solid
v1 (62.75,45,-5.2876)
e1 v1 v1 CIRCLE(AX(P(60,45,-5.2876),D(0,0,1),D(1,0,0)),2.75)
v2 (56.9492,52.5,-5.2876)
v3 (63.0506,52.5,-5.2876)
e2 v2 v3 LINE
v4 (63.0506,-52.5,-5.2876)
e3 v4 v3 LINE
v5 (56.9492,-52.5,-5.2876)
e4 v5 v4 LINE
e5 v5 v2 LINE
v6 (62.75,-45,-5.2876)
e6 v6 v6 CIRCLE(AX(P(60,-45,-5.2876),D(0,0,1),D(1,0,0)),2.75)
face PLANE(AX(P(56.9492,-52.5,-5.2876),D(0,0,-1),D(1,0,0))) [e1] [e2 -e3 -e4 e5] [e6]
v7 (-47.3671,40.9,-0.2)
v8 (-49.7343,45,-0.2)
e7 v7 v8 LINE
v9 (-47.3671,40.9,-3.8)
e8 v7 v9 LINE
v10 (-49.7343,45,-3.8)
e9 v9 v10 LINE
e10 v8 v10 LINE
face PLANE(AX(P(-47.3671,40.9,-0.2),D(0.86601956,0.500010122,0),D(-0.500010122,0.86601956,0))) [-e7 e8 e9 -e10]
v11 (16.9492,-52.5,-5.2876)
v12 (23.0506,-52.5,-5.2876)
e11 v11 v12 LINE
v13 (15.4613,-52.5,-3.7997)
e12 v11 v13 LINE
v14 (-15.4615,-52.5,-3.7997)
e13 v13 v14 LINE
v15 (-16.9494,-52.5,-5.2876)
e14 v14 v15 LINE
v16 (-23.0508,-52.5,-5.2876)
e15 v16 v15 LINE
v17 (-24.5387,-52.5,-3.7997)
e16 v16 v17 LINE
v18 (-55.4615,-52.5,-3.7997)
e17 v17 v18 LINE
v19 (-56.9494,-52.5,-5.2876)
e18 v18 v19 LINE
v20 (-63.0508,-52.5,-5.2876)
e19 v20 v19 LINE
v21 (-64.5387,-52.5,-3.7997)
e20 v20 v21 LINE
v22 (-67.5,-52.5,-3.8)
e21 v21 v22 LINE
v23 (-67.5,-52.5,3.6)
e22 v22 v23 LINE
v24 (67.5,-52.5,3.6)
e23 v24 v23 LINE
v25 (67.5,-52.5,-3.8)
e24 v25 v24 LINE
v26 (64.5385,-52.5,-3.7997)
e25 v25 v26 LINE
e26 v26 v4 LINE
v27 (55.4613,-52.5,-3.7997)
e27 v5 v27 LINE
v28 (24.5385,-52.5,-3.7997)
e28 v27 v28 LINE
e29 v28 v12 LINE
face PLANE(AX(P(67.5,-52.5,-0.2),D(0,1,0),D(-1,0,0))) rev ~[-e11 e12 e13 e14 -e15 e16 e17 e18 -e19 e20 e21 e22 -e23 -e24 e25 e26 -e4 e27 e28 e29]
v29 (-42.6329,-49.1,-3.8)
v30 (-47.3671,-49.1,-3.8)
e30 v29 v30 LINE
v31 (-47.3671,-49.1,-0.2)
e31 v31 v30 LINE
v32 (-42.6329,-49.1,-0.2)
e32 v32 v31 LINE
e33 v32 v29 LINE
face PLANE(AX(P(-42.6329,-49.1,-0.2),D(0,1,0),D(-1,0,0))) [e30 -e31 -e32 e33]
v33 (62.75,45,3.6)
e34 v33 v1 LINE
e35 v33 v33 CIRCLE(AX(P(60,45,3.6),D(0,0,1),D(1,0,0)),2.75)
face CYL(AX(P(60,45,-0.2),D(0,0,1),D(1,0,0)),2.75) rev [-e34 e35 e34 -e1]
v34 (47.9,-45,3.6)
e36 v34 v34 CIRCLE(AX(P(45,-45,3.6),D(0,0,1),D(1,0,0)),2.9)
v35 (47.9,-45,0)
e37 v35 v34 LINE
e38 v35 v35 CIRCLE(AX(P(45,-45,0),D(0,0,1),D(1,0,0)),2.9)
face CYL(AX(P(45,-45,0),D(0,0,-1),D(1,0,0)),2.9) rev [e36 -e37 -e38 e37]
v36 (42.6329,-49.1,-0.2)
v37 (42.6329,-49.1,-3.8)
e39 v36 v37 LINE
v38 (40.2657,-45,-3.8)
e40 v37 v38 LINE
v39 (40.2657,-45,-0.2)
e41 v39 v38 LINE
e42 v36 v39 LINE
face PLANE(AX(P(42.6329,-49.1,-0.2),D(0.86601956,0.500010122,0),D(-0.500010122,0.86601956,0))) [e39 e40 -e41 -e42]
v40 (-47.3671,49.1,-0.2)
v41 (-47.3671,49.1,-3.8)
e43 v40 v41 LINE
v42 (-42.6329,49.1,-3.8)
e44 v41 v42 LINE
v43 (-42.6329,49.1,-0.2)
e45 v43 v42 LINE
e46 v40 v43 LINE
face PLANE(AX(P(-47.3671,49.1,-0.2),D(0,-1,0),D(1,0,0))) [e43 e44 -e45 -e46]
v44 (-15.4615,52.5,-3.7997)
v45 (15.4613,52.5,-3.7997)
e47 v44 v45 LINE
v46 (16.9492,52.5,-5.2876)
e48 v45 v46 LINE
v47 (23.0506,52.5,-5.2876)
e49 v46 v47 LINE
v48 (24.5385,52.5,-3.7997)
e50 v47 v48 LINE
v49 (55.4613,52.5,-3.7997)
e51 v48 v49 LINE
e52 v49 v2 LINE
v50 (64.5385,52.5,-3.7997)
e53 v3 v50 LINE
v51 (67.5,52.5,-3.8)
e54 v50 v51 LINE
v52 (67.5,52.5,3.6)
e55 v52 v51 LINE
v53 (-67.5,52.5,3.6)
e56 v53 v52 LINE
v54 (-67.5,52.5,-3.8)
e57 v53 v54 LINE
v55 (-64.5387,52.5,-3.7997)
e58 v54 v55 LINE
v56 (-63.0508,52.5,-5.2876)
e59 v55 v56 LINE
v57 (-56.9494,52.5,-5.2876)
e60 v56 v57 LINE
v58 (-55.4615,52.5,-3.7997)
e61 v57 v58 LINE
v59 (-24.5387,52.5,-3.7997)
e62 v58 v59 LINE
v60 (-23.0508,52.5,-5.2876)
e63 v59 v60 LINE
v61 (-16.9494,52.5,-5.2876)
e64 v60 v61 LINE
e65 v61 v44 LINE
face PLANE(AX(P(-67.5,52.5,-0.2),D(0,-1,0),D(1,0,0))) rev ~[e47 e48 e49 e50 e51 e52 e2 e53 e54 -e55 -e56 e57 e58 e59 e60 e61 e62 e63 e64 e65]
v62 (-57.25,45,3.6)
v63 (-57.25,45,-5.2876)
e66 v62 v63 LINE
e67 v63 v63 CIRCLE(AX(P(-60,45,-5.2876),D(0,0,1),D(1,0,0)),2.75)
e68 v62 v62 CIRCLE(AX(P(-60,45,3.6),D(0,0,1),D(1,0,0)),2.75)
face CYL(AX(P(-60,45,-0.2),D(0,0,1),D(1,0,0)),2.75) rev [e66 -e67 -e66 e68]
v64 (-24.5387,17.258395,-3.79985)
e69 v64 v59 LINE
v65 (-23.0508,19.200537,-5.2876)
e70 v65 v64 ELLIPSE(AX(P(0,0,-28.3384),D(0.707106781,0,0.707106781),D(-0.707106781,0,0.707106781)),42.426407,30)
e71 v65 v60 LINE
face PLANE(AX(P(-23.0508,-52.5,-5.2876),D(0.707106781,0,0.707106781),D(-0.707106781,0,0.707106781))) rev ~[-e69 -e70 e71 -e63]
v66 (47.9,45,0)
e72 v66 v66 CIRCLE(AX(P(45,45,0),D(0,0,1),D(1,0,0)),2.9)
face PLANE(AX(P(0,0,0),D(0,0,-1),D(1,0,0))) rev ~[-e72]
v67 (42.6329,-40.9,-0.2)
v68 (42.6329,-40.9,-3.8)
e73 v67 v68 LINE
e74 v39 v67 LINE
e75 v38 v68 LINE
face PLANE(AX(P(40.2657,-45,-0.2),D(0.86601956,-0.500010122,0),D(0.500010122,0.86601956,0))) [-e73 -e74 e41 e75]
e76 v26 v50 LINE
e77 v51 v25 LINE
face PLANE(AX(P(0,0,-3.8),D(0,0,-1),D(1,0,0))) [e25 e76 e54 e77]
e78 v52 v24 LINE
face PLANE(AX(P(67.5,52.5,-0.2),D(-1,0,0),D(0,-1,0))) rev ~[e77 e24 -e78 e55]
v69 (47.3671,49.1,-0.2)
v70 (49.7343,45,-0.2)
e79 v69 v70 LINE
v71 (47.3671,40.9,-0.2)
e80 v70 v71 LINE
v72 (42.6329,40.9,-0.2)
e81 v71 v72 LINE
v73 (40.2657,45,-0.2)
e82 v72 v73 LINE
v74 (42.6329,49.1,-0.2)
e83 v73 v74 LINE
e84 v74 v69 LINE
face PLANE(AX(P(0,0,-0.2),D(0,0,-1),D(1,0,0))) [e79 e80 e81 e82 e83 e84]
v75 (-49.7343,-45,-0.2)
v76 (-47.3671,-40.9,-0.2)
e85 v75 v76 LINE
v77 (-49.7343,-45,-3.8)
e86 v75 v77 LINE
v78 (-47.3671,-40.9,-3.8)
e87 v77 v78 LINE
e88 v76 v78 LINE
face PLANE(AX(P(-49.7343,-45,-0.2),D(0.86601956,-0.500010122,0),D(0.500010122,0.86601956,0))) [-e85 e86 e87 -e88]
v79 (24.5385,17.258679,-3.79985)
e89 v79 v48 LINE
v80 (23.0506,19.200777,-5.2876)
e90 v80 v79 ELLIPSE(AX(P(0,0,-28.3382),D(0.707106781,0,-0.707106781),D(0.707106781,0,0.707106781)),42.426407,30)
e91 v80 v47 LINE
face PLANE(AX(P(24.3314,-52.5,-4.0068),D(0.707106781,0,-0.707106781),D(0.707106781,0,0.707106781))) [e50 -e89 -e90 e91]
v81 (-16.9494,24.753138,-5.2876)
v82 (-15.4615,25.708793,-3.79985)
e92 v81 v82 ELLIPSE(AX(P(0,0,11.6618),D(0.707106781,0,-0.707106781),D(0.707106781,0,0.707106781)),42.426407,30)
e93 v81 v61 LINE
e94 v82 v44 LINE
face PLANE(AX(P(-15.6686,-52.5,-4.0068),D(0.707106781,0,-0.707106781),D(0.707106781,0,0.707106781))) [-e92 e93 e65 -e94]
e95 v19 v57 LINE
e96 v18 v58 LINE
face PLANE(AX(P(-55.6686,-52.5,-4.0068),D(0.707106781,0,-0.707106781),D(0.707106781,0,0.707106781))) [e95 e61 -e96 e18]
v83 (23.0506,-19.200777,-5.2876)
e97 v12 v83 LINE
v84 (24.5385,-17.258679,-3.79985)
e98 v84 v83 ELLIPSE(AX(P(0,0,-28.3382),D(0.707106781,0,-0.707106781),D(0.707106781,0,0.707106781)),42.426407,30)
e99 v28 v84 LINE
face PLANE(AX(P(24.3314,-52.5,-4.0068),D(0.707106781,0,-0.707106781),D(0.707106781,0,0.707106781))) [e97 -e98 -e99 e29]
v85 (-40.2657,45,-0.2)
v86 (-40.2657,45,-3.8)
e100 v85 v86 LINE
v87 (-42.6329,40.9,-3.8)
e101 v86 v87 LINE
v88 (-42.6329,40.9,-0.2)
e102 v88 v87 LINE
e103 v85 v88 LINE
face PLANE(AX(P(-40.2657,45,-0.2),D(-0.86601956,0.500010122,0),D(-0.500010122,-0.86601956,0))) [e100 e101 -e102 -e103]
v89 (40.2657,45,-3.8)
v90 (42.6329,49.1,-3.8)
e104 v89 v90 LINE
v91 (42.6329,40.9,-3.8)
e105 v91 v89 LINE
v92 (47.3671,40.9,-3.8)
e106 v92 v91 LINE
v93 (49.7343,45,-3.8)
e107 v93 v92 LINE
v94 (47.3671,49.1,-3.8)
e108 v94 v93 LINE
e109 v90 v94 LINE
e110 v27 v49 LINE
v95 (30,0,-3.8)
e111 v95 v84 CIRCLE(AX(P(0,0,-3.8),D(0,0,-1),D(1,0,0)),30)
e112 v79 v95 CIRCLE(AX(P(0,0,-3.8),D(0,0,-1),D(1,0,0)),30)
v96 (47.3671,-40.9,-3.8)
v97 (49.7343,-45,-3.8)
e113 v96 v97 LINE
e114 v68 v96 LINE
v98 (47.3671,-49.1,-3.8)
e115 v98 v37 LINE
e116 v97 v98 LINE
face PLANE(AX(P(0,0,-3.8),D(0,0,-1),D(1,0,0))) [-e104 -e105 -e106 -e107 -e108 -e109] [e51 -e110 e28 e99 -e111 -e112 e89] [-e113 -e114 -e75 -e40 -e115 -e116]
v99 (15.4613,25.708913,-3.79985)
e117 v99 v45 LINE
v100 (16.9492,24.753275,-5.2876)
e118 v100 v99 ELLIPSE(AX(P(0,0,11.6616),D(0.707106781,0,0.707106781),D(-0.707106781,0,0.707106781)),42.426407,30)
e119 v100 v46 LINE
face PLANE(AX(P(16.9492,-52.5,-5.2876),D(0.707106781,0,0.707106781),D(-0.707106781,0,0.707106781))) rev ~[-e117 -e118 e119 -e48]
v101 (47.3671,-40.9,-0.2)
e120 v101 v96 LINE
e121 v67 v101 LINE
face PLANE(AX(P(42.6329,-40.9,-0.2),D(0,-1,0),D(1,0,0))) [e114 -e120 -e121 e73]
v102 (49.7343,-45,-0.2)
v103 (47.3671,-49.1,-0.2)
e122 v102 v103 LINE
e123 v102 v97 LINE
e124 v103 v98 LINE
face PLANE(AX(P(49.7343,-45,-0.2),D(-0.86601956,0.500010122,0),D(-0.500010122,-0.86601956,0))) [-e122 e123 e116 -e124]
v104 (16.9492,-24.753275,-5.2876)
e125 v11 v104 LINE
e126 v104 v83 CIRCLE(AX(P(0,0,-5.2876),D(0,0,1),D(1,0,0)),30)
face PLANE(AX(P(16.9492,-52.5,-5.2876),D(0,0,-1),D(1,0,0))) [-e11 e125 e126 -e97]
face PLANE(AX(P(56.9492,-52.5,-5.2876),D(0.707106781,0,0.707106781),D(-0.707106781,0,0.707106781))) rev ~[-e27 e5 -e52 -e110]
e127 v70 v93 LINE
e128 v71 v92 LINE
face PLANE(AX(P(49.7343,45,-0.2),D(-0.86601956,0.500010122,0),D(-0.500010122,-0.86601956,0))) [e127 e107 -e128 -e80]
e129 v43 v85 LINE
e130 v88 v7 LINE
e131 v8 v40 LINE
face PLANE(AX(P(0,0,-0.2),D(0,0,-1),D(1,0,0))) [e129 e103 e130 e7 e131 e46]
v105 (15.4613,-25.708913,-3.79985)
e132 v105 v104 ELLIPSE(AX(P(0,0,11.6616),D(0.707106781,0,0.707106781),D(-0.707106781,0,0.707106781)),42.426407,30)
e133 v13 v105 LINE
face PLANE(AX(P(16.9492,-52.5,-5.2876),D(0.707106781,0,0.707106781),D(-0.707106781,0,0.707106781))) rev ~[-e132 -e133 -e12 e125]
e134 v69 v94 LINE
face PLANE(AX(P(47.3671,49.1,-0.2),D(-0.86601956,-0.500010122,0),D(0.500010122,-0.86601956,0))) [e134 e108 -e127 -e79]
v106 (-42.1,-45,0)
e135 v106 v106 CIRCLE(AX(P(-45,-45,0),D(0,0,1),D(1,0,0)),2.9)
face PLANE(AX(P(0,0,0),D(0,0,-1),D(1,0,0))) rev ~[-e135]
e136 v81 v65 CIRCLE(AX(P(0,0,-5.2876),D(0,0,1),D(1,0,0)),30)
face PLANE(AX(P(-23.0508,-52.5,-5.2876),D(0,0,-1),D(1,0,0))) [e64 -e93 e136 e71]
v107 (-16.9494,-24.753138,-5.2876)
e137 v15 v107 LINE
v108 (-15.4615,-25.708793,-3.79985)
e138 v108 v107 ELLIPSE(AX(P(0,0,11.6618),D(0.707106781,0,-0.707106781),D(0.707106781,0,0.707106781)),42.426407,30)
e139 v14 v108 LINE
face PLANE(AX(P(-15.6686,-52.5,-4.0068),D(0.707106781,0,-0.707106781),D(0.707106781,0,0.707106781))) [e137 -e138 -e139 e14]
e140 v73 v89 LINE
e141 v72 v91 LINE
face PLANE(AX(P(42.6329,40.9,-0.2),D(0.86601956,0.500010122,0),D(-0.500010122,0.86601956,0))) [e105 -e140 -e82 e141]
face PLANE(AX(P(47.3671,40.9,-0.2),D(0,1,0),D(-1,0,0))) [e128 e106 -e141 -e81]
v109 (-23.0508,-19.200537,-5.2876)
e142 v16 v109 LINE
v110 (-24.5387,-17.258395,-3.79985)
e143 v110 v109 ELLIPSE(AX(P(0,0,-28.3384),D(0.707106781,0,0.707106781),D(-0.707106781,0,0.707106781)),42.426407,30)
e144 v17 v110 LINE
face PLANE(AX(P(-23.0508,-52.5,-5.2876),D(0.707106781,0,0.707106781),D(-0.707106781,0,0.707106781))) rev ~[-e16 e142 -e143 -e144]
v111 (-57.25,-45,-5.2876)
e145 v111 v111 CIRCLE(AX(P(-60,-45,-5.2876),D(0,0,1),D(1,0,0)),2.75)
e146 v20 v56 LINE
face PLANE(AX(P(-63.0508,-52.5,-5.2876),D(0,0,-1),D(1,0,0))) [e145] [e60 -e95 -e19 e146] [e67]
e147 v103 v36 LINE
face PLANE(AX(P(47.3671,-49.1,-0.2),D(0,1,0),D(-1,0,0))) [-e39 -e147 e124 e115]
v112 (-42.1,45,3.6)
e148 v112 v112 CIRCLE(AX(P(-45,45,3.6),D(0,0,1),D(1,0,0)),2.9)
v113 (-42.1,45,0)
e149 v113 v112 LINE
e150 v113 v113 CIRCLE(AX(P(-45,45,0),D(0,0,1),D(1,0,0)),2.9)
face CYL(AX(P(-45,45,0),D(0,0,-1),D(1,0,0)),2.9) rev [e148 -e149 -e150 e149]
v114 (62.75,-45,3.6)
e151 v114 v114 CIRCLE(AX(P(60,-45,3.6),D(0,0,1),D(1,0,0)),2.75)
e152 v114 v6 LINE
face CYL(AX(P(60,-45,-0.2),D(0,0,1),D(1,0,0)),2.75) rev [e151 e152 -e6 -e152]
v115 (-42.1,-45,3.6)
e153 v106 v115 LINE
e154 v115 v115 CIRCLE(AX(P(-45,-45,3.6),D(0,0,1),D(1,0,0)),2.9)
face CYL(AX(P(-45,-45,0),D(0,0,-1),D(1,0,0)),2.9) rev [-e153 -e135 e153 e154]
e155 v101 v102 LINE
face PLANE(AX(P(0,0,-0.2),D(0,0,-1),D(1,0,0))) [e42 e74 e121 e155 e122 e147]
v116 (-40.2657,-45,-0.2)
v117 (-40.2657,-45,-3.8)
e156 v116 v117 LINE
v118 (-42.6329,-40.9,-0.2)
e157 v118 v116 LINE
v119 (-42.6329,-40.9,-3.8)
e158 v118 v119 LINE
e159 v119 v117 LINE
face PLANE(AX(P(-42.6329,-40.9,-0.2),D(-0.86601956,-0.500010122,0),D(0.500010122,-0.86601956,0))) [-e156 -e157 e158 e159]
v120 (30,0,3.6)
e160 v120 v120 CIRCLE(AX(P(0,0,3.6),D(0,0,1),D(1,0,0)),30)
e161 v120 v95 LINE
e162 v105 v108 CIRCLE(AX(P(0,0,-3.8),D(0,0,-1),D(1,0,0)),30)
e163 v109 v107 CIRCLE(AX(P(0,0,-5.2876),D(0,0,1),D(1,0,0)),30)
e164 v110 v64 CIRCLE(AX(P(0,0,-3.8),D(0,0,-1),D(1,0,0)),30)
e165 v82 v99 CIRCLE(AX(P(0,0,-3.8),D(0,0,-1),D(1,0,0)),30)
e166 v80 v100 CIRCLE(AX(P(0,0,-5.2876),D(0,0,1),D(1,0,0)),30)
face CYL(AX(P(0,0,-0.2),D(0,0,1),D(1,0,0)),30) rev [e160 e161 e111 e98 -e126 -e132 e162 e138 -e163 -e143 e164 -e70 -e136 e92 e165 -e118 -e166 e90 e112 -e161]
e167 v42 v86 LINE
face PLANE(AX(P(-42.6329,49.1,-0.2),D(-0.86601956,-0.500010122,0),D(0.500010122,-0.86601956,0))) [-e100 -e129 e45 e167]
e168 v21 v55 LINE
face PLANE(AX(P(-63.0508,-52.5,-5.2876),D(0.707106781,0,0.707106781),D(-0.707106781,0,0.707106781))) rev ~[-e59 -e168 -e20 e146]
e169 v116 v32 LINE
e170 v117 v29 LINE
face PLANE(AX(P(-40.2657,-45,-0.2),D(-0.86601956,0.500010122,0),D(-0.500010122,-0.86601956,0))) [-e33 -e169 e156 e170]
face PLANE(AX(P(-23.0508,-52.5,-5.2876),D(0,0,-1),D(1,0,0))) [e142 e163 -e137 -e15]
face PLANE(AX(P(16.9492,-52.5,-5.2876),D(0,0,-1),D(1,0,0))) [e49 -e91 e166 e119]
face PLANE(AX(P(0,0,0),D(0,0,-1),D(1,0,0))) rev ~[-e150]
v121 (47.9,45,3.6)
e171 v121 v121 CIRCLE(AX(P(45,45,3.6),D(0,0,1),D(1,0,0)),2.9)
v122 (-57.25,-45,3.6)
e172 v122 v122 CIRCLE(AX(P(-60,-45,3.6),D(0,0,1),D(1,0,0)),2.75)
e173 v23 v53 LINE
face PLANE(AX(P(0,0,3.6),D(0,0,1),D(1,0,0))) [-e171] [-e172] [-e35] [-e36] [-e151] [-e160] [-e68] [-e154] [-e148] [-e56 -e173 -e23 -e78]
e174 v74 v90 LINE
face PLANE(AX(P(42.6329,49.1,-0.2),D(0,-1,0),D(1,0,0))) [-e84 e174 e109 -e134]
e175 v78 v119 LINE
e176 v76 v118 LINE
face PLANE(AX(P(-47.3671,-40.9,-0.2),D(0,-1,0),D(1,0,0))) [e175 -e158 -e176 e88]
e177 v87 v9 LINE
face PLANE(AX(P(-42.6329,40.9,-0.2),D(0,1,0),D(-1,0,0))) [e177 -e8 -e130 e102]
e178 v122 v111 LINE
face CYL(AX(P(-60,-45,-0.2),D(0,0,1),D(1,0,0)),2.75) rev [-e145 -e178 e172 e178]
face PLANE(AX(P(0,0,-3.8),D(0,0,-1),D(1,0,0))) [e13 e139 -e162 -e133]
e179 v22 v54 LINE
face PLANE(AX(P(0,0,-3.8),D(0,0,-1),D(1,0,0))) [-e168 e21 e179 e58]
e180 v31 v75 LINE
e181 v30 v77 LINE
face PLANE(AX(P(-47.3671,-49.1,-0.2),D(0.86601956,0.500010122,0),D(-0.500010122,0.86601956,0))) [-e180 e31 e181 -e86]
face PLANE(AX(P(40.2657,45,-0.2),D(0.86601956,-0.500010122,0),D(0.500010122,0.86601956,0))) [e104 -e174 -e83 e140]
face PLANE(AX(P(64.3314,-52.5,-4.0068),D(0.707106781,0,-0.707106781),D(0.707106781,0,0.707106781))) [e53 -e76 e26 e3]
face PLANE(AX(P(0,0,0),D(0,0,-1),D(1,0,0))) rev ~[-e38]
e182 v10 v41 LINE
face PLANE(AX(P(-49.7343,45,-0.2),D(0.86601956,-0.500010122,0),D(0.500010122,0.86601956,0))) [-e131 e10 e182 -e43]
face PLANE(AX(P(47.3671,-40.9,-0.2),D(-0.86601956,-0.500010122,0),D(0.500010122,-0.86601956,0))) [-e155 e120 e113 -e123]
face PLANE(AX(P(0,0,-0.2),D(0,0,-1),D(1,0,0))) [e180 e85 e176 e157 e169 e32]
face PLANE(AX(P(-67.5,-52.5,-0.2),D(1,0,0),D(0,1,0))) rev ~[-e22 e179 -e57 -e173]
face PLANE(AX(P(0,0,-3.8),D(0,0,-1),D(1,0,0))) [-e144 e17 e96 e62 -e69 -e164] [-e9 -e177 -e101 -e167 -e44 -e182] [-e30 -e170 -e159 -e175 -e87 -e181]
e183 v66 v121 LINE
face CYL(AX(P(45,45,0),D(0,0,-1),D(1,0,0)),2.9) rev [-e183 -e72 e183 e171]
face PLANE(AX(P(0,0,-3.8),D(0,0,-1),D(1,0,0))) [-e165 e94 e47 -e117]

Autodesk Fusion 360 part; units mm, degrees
sketch "Sketch1" plane through (0, 0, 0) normal (0, 0, 1) x (1, 0, 0)
  line L0 (-45, 45) -> (45, 45) construction
  line L1 (45, 45) -> (45, -45) construction
  line L2 (45, -45) -> (-45, -45) construction
  line L3 (-45, -45) -> (-45, 45) construction
  line L4 (-45, 45) -> (45, -45) construction
  line L5 (45, 45) -> (-45, -45) construction
  circle A0 centre (-45, 45) radius 2.9
  circle A1 centre (45, 45) radius 2.9
  circle A2 centre (-45, -45) radius 2.9
  circle A3 centre (45, -45) radius 2.9
  line L6 (-60, 45) -> (60, 45) construction
  line L7 (60, 45) -> (60, -45) construction
  line L8 (60, -45) -> (-60, -45) construction
  line L9 (-60, -45) -> (-60, 45) construction
  line L10 (-60, 45) -> (60, -45) construction
  line L11 (60, 45) -> (-60, -45) construction
  circle A4 centre (-60, 45) radius 2.75
  circle A5 centre (60, 45) radius 2.75
  circle A6 centre (60, -45) radius 2.75
  circle A7 centre (-60, -45) radius 2.75
  line L12 (-67.5, 52.5) -> (67.5, 52.5)
  line L13 (67.5, 52.5) -> (67.5, -52.5)
  line L14 (67.5, -52.5) -> (-67.5, -52.5)
  line L15 (-67.5, -52.5) -> (-67.5, 52.5)
  line L16 (-67.5, 52.5) -> (67.5, -52.5) construction
  line L17 (67.5, 52.5) -> (-67.5, -52.5) construction
  circle A8 centre (0, 0) radius 30
  dimension "d1" = 90
  dimension "d2" = 90
  dimension "d3" = 5.8
  dimension "d4" = 5.8
  dimension "d5" = 5.8
  dimension "d6" = 5.8
  dimension "d7" = 120
  dimension "d8" = 90
  dimension "d9" = 5.5
  dimension "d10" = 5.5
  dimension "d11" = 5.5
  dimension "d12" = 5.5
  dimension "d13" = 135
  dimension "d14" = 105
  dimension "d27" = 60
extrude "Extrude1" add sketch "Sketch1" along normal blind 3.6
sketch "Sketch2" plane through (0, 0, 0) normal (0, 0, -1) x (1, 0, 0)
  circle A0 centre (-45, -45) radius 2.9
  circle A1 centre (-60, -45) radius 2.75
  circle A2 centre (60, -45) radius 2.75
  circle A3 centre (-60, 45) radius 2.75
  circle A4 centre (45, -45) radius 2.9
  circle A5 centre (-45, 45) radius 2.9
  circle A6 centre (45, 45) radius 2.9
  circle A7 centre (60, 45) radius 2.75
  line L0 (67.5, 52.5) -> (-67.5, 52.5)
  line L1 (-67.5, 52.5) -> (-67.5, -52.5)
  line L2 (-67.5, -52.5) -> (67.5, -52.5)
  line L3 (67.5, -52.5) -> (67.5, 52.5)
  line L4 (-67.5, 52.5) -> (67.5, 52.5)
  line L5 (67.5, 52.5) -> (67.5, -52.5)
  line L6 (67.5, -52.5) -> (-67.5, -52.5)
  line L7 (-67.5, -52.5) -> (-67.5, 52.5)
  line L8 (-67.5, 52.5) -> (67.5, -52.5) construction
  line L9 (67.5, 52.5) -> (-67.5, -52.5) construction
  circle A8 centre (0, 0) radius 30
  dimension "d17" = 135
  dimension "d18" = 105
extrude "Extrude2" add sketch "Sketch2" along normal blind 0.2 contours A0 | A4 | A5 | A6 | L0 L1 L2 L3 L4 L5 L6 L7
sketch "Sketch3" plane through (0, 0, -0.2) normal (0, 0, -1) x (1, 0, 0)
  circle A0 centre (-60, -45) radius 2.75
  circle A1 centre (60, -45) radius 2.75
  circle A2 centre (-60, 45) radius 2.75
  circle A3 centre (60, 45) radius 2.75
  line L0 (-67.5, -52.5) -> (67.5, -52.5)
  line L1 (67.5, -52.5) -> (67.5, 52.5)
  line L2 (67.5, 52.5) -> (-67.5, 52.5)
  line L3 (-67.5, 52.5) -> (-67.5, -52.5)
  line L4 (-42.6329, 40.9) -> (-40.2657, 45)
  line L5 (-40.2657, 45) -> (-42.6329, 49.1)
  line L6 (-42.6329, 49.1) -> (-47.3671, 49.1)
  line L7 (-47.3671, 49.1) -> (-49.7343, 45)
  line L8 (-49.7343, 45) -> (-47.3671, 40.9)
  line L9 (-47.3671, 40.9) -> (-42.6329, 40.9)
  line L10 (-47.3671, -40.9) -> (-49.7343, -45)
  line L11 (-49.7343, -45) -> (-47.3671, -49.1)
  line L12 (-47.3671, -49.1) -> (-42.6329, -49.1)
  line L13 (-42.6329, -49.1) -> (-40.2657, -45)
  line L14 (-40.2657, -45) -> (-42.6329, -40.9)
  line L15 (-42.6329, -40.9) -> (-47.3671, -40.9)
  line L16 (47.3671, 40.9) -> (49.7343, 45)
  line L17 (49.7343, 45) -> (47.3671, 49.1)
  line L18 (47.3671, 49.1) -> (42.6329, 49.1)
  line L19 (42.6329, 49.1) -> (40.2657, 45)
  line L20 (40.2657, 45) -> (42.6329, 40.9)
  line L21 (42.6329, 40.9) -> (47.3671, 40.9)
  line L22 (42.6329, -40.9) -> (40.2657, -45)
  line L23 (40.2657, -45) -> (42.6329, -49.1)
  line L24 (42.6329, -49.1) -> (47.3671, -49.1)
  line L25 (47.3671, -49.1) -> (49.7343, -45)
  line L26 (49.7343, -45) -> (47.3671, -40.9)
  line L27 (47.3671, -40.9) -> (42.6329, -40.9)
  circle A4 centre (0, 0) radius 30
  point P0 (-45, 45)
  point P1 (-45, -45)
  point P2 (45, 45)
  point P3 (45, -45)
  dimension "d21" = 4.1
  dimension "d22" = 4.1
  dimension "d23" = 4.1
  dimension "d24" = 4.1
extrude "Extrude3" add sketch "Sketch3" along normal blind 3.6
sketch "Sketch4" plane through (-67.5, 0, 0) normal (-1, 0, 0) x (0, -1, 0)
  line L0 (52.5, -3.8) -> (52.5, 3.6)
  line L1 (52.5, 3.6) -> (-52.5, 3.6)
  line L2 (-52.5, 3.6) -> (-52.5, -3.8)
  line L3 (-52.5, -3.8) -> (52.5, -3.8)
  line L4 (-3.0507, 8.6121) -> (-4.3315, 9.8929)
  line L5 (-4.8314, 10.1) -> (-3.6911, 10.1) construction
  line L6 (-4.8314, 10.1) -> (-4.5386, 10.1) construction
  line L7 (4.3315, 9.8929) -> (3.0507, 8.6121)
  line L8 (-3.0507, 8.6121) -> (3.0507, 8.6121)
  line L9 (4.8314, 10.1) -> (4.5386, 10.1) construction
  line L10 (4.3315, 9.8929) -> (4.5386, 10.1)
  line L11 (-4.3315, 9.8929) -> (-4.5386, 10.1)
  line L12 (-52.5, -0.1) -> (-45, -0.1) construction
  line L13 (52.5, -0.1) -> (45, -0.1) construction
sketch "Sketch5" plane through (0, -52.5, 0) normal (0, -1, 0) x (1, 0, 0)
  line L0 (67.5, -3.8) -> (67.5, 3.6)
  line L1 (67.5, 3.6) -> (-67.5, 3.6)
  line L2 (-67.5, 3.6) -> (-67.5, -3.8)
  line L3 (-67.5, -3.8) -> (67.5, -3.8)
  line L4 (15.1684, -3.7997) -> (16.3088, -3.7997) construction
  line L5 (15.6684, -4.0068) -> (15.4613, -3.7997)
  line L6 (15.1684, -3.7997) -> (15.4613, -3.7997) construction
  line L7 (24.8313, -3.7997) -> (24.5385, -3.7997) construction
  line L8 (16.9492, -5.2876) -> (23.0506, -5.2876)
  line L9 (24.3314, -4.0068) -> (24.5385, -3.7997)
  line L10 (24.3314, -4.0068) -> (23.0506, -5.2876)
  line L11 (16.9492, -5.2876) -> (15.6684, -4.0068)
  line L12 (-67.5, -0.1) -> (-60, -0.1) construction
  line L13 (-60, -0.1) -> (60, -0.1) construction
  line L14 (60, -0.1) -> (67.5, -0.1) construction
  line L15 (-60, -0.1) -> (-20, -0.1) construction
  line L16 (60, -0.1) -> (20, -0.1) construction
  line L17 (-20, -0.1) -> (-20, 10.5) construction
  line L18 (16.9492, -5.2876) -> (19.9999, -5.2876) construction
  line L19 (-23.0508, -5.2876) -> (-20.0001, -5.2876) construction
  line L20 (-15.6686, -4.0068) -> (-15.4615, -3.7997)
  line L21 (-24.8316, -3.7997) -> (-23.6912, -3.7997) construction
  line L22 (-23.0508, -5.2876) -> (-16.9494, -5.2876)
  line L23 (-15.6686, -4.0068) -> (-16.9494, -5.2876)
  line L24 (-23.0508, -5.2876) -> (-24.3316, -4.0068)
  line L25 (-24.8316, -3.7997) -> (-24.5387, -3.7997) construction
  line L26 (-24.3316, -4.0068) -> (-24.5387, -3.7997)
  line L27 (-15.1687, -3.7997) -> (-15.4615, -3.7997) construction
  line L28 (64.8313, -3.7997) -> (64.5385, -3.7997) construction
  line L29 (56.9492, -5.2876) -> (59.9999, -5.2876) construction
  line L30 (64.3314, -4.0068) -> (63.0506, -5.2876)
  line L31 (55.6684, -4.0068) -> (55.4613, -3.7997)
  line L32 (56.9492, -5.2876) -> (55.6684, -4.0068)
  line L33 (55.1684, -3.7997) -> (55.4613, -3.7997) construction
  line L34 (56.9492, -5.2876) -> (63.0506, -5.2876)
  line L35 (64.3314, -4.0068) -> (64.5385, -3.7997)
  line L36 (55.1684, -3.7997) -> (56.3088, -3.7997) construction
  line L37 (-63.0508, -5.2876) -> (-64.3316, -4.0068)
  line L38 (-63.0508, -5.2876) -> (-60.0001, -5.2876) construction
  line L39 (-64.3316, -4.0068) -> (-64.5387, -3.7997)
  line L40 (-55.6686, -4.0068) -> (-56.9494, -5.2876)
  line L41 (-63.0508, -5.2876) -> (-56.9494, -5.2876)
  line L42 (-55.6686, -4.0068) -> (-55.4615, -3.7997)
  line L43 (-64.8316, -3.7997) -> (-64.5387, -3.7997) construction
  line L44 (-55.1687, -3.7997) -> (-55.4615, -3.7997) construction
  line L45 (-64.8316, -3.7997) -> (-63.6912, -3.7997) construction
extrude "Extrude4" add sketch "Sketch5" against normal blind 105 contours L3 L30 L31 L32 L34 L35 | L3 L5 L8 L9 L10 L11 | L3 L37 L39 L40 L41 L42 | L3 L20 L22 L23 L24 L26
extrude "Extrude5" cut sketch "Sketch3" along normal blind 6 contours A0 | A1 | A2 | A3 | A4
